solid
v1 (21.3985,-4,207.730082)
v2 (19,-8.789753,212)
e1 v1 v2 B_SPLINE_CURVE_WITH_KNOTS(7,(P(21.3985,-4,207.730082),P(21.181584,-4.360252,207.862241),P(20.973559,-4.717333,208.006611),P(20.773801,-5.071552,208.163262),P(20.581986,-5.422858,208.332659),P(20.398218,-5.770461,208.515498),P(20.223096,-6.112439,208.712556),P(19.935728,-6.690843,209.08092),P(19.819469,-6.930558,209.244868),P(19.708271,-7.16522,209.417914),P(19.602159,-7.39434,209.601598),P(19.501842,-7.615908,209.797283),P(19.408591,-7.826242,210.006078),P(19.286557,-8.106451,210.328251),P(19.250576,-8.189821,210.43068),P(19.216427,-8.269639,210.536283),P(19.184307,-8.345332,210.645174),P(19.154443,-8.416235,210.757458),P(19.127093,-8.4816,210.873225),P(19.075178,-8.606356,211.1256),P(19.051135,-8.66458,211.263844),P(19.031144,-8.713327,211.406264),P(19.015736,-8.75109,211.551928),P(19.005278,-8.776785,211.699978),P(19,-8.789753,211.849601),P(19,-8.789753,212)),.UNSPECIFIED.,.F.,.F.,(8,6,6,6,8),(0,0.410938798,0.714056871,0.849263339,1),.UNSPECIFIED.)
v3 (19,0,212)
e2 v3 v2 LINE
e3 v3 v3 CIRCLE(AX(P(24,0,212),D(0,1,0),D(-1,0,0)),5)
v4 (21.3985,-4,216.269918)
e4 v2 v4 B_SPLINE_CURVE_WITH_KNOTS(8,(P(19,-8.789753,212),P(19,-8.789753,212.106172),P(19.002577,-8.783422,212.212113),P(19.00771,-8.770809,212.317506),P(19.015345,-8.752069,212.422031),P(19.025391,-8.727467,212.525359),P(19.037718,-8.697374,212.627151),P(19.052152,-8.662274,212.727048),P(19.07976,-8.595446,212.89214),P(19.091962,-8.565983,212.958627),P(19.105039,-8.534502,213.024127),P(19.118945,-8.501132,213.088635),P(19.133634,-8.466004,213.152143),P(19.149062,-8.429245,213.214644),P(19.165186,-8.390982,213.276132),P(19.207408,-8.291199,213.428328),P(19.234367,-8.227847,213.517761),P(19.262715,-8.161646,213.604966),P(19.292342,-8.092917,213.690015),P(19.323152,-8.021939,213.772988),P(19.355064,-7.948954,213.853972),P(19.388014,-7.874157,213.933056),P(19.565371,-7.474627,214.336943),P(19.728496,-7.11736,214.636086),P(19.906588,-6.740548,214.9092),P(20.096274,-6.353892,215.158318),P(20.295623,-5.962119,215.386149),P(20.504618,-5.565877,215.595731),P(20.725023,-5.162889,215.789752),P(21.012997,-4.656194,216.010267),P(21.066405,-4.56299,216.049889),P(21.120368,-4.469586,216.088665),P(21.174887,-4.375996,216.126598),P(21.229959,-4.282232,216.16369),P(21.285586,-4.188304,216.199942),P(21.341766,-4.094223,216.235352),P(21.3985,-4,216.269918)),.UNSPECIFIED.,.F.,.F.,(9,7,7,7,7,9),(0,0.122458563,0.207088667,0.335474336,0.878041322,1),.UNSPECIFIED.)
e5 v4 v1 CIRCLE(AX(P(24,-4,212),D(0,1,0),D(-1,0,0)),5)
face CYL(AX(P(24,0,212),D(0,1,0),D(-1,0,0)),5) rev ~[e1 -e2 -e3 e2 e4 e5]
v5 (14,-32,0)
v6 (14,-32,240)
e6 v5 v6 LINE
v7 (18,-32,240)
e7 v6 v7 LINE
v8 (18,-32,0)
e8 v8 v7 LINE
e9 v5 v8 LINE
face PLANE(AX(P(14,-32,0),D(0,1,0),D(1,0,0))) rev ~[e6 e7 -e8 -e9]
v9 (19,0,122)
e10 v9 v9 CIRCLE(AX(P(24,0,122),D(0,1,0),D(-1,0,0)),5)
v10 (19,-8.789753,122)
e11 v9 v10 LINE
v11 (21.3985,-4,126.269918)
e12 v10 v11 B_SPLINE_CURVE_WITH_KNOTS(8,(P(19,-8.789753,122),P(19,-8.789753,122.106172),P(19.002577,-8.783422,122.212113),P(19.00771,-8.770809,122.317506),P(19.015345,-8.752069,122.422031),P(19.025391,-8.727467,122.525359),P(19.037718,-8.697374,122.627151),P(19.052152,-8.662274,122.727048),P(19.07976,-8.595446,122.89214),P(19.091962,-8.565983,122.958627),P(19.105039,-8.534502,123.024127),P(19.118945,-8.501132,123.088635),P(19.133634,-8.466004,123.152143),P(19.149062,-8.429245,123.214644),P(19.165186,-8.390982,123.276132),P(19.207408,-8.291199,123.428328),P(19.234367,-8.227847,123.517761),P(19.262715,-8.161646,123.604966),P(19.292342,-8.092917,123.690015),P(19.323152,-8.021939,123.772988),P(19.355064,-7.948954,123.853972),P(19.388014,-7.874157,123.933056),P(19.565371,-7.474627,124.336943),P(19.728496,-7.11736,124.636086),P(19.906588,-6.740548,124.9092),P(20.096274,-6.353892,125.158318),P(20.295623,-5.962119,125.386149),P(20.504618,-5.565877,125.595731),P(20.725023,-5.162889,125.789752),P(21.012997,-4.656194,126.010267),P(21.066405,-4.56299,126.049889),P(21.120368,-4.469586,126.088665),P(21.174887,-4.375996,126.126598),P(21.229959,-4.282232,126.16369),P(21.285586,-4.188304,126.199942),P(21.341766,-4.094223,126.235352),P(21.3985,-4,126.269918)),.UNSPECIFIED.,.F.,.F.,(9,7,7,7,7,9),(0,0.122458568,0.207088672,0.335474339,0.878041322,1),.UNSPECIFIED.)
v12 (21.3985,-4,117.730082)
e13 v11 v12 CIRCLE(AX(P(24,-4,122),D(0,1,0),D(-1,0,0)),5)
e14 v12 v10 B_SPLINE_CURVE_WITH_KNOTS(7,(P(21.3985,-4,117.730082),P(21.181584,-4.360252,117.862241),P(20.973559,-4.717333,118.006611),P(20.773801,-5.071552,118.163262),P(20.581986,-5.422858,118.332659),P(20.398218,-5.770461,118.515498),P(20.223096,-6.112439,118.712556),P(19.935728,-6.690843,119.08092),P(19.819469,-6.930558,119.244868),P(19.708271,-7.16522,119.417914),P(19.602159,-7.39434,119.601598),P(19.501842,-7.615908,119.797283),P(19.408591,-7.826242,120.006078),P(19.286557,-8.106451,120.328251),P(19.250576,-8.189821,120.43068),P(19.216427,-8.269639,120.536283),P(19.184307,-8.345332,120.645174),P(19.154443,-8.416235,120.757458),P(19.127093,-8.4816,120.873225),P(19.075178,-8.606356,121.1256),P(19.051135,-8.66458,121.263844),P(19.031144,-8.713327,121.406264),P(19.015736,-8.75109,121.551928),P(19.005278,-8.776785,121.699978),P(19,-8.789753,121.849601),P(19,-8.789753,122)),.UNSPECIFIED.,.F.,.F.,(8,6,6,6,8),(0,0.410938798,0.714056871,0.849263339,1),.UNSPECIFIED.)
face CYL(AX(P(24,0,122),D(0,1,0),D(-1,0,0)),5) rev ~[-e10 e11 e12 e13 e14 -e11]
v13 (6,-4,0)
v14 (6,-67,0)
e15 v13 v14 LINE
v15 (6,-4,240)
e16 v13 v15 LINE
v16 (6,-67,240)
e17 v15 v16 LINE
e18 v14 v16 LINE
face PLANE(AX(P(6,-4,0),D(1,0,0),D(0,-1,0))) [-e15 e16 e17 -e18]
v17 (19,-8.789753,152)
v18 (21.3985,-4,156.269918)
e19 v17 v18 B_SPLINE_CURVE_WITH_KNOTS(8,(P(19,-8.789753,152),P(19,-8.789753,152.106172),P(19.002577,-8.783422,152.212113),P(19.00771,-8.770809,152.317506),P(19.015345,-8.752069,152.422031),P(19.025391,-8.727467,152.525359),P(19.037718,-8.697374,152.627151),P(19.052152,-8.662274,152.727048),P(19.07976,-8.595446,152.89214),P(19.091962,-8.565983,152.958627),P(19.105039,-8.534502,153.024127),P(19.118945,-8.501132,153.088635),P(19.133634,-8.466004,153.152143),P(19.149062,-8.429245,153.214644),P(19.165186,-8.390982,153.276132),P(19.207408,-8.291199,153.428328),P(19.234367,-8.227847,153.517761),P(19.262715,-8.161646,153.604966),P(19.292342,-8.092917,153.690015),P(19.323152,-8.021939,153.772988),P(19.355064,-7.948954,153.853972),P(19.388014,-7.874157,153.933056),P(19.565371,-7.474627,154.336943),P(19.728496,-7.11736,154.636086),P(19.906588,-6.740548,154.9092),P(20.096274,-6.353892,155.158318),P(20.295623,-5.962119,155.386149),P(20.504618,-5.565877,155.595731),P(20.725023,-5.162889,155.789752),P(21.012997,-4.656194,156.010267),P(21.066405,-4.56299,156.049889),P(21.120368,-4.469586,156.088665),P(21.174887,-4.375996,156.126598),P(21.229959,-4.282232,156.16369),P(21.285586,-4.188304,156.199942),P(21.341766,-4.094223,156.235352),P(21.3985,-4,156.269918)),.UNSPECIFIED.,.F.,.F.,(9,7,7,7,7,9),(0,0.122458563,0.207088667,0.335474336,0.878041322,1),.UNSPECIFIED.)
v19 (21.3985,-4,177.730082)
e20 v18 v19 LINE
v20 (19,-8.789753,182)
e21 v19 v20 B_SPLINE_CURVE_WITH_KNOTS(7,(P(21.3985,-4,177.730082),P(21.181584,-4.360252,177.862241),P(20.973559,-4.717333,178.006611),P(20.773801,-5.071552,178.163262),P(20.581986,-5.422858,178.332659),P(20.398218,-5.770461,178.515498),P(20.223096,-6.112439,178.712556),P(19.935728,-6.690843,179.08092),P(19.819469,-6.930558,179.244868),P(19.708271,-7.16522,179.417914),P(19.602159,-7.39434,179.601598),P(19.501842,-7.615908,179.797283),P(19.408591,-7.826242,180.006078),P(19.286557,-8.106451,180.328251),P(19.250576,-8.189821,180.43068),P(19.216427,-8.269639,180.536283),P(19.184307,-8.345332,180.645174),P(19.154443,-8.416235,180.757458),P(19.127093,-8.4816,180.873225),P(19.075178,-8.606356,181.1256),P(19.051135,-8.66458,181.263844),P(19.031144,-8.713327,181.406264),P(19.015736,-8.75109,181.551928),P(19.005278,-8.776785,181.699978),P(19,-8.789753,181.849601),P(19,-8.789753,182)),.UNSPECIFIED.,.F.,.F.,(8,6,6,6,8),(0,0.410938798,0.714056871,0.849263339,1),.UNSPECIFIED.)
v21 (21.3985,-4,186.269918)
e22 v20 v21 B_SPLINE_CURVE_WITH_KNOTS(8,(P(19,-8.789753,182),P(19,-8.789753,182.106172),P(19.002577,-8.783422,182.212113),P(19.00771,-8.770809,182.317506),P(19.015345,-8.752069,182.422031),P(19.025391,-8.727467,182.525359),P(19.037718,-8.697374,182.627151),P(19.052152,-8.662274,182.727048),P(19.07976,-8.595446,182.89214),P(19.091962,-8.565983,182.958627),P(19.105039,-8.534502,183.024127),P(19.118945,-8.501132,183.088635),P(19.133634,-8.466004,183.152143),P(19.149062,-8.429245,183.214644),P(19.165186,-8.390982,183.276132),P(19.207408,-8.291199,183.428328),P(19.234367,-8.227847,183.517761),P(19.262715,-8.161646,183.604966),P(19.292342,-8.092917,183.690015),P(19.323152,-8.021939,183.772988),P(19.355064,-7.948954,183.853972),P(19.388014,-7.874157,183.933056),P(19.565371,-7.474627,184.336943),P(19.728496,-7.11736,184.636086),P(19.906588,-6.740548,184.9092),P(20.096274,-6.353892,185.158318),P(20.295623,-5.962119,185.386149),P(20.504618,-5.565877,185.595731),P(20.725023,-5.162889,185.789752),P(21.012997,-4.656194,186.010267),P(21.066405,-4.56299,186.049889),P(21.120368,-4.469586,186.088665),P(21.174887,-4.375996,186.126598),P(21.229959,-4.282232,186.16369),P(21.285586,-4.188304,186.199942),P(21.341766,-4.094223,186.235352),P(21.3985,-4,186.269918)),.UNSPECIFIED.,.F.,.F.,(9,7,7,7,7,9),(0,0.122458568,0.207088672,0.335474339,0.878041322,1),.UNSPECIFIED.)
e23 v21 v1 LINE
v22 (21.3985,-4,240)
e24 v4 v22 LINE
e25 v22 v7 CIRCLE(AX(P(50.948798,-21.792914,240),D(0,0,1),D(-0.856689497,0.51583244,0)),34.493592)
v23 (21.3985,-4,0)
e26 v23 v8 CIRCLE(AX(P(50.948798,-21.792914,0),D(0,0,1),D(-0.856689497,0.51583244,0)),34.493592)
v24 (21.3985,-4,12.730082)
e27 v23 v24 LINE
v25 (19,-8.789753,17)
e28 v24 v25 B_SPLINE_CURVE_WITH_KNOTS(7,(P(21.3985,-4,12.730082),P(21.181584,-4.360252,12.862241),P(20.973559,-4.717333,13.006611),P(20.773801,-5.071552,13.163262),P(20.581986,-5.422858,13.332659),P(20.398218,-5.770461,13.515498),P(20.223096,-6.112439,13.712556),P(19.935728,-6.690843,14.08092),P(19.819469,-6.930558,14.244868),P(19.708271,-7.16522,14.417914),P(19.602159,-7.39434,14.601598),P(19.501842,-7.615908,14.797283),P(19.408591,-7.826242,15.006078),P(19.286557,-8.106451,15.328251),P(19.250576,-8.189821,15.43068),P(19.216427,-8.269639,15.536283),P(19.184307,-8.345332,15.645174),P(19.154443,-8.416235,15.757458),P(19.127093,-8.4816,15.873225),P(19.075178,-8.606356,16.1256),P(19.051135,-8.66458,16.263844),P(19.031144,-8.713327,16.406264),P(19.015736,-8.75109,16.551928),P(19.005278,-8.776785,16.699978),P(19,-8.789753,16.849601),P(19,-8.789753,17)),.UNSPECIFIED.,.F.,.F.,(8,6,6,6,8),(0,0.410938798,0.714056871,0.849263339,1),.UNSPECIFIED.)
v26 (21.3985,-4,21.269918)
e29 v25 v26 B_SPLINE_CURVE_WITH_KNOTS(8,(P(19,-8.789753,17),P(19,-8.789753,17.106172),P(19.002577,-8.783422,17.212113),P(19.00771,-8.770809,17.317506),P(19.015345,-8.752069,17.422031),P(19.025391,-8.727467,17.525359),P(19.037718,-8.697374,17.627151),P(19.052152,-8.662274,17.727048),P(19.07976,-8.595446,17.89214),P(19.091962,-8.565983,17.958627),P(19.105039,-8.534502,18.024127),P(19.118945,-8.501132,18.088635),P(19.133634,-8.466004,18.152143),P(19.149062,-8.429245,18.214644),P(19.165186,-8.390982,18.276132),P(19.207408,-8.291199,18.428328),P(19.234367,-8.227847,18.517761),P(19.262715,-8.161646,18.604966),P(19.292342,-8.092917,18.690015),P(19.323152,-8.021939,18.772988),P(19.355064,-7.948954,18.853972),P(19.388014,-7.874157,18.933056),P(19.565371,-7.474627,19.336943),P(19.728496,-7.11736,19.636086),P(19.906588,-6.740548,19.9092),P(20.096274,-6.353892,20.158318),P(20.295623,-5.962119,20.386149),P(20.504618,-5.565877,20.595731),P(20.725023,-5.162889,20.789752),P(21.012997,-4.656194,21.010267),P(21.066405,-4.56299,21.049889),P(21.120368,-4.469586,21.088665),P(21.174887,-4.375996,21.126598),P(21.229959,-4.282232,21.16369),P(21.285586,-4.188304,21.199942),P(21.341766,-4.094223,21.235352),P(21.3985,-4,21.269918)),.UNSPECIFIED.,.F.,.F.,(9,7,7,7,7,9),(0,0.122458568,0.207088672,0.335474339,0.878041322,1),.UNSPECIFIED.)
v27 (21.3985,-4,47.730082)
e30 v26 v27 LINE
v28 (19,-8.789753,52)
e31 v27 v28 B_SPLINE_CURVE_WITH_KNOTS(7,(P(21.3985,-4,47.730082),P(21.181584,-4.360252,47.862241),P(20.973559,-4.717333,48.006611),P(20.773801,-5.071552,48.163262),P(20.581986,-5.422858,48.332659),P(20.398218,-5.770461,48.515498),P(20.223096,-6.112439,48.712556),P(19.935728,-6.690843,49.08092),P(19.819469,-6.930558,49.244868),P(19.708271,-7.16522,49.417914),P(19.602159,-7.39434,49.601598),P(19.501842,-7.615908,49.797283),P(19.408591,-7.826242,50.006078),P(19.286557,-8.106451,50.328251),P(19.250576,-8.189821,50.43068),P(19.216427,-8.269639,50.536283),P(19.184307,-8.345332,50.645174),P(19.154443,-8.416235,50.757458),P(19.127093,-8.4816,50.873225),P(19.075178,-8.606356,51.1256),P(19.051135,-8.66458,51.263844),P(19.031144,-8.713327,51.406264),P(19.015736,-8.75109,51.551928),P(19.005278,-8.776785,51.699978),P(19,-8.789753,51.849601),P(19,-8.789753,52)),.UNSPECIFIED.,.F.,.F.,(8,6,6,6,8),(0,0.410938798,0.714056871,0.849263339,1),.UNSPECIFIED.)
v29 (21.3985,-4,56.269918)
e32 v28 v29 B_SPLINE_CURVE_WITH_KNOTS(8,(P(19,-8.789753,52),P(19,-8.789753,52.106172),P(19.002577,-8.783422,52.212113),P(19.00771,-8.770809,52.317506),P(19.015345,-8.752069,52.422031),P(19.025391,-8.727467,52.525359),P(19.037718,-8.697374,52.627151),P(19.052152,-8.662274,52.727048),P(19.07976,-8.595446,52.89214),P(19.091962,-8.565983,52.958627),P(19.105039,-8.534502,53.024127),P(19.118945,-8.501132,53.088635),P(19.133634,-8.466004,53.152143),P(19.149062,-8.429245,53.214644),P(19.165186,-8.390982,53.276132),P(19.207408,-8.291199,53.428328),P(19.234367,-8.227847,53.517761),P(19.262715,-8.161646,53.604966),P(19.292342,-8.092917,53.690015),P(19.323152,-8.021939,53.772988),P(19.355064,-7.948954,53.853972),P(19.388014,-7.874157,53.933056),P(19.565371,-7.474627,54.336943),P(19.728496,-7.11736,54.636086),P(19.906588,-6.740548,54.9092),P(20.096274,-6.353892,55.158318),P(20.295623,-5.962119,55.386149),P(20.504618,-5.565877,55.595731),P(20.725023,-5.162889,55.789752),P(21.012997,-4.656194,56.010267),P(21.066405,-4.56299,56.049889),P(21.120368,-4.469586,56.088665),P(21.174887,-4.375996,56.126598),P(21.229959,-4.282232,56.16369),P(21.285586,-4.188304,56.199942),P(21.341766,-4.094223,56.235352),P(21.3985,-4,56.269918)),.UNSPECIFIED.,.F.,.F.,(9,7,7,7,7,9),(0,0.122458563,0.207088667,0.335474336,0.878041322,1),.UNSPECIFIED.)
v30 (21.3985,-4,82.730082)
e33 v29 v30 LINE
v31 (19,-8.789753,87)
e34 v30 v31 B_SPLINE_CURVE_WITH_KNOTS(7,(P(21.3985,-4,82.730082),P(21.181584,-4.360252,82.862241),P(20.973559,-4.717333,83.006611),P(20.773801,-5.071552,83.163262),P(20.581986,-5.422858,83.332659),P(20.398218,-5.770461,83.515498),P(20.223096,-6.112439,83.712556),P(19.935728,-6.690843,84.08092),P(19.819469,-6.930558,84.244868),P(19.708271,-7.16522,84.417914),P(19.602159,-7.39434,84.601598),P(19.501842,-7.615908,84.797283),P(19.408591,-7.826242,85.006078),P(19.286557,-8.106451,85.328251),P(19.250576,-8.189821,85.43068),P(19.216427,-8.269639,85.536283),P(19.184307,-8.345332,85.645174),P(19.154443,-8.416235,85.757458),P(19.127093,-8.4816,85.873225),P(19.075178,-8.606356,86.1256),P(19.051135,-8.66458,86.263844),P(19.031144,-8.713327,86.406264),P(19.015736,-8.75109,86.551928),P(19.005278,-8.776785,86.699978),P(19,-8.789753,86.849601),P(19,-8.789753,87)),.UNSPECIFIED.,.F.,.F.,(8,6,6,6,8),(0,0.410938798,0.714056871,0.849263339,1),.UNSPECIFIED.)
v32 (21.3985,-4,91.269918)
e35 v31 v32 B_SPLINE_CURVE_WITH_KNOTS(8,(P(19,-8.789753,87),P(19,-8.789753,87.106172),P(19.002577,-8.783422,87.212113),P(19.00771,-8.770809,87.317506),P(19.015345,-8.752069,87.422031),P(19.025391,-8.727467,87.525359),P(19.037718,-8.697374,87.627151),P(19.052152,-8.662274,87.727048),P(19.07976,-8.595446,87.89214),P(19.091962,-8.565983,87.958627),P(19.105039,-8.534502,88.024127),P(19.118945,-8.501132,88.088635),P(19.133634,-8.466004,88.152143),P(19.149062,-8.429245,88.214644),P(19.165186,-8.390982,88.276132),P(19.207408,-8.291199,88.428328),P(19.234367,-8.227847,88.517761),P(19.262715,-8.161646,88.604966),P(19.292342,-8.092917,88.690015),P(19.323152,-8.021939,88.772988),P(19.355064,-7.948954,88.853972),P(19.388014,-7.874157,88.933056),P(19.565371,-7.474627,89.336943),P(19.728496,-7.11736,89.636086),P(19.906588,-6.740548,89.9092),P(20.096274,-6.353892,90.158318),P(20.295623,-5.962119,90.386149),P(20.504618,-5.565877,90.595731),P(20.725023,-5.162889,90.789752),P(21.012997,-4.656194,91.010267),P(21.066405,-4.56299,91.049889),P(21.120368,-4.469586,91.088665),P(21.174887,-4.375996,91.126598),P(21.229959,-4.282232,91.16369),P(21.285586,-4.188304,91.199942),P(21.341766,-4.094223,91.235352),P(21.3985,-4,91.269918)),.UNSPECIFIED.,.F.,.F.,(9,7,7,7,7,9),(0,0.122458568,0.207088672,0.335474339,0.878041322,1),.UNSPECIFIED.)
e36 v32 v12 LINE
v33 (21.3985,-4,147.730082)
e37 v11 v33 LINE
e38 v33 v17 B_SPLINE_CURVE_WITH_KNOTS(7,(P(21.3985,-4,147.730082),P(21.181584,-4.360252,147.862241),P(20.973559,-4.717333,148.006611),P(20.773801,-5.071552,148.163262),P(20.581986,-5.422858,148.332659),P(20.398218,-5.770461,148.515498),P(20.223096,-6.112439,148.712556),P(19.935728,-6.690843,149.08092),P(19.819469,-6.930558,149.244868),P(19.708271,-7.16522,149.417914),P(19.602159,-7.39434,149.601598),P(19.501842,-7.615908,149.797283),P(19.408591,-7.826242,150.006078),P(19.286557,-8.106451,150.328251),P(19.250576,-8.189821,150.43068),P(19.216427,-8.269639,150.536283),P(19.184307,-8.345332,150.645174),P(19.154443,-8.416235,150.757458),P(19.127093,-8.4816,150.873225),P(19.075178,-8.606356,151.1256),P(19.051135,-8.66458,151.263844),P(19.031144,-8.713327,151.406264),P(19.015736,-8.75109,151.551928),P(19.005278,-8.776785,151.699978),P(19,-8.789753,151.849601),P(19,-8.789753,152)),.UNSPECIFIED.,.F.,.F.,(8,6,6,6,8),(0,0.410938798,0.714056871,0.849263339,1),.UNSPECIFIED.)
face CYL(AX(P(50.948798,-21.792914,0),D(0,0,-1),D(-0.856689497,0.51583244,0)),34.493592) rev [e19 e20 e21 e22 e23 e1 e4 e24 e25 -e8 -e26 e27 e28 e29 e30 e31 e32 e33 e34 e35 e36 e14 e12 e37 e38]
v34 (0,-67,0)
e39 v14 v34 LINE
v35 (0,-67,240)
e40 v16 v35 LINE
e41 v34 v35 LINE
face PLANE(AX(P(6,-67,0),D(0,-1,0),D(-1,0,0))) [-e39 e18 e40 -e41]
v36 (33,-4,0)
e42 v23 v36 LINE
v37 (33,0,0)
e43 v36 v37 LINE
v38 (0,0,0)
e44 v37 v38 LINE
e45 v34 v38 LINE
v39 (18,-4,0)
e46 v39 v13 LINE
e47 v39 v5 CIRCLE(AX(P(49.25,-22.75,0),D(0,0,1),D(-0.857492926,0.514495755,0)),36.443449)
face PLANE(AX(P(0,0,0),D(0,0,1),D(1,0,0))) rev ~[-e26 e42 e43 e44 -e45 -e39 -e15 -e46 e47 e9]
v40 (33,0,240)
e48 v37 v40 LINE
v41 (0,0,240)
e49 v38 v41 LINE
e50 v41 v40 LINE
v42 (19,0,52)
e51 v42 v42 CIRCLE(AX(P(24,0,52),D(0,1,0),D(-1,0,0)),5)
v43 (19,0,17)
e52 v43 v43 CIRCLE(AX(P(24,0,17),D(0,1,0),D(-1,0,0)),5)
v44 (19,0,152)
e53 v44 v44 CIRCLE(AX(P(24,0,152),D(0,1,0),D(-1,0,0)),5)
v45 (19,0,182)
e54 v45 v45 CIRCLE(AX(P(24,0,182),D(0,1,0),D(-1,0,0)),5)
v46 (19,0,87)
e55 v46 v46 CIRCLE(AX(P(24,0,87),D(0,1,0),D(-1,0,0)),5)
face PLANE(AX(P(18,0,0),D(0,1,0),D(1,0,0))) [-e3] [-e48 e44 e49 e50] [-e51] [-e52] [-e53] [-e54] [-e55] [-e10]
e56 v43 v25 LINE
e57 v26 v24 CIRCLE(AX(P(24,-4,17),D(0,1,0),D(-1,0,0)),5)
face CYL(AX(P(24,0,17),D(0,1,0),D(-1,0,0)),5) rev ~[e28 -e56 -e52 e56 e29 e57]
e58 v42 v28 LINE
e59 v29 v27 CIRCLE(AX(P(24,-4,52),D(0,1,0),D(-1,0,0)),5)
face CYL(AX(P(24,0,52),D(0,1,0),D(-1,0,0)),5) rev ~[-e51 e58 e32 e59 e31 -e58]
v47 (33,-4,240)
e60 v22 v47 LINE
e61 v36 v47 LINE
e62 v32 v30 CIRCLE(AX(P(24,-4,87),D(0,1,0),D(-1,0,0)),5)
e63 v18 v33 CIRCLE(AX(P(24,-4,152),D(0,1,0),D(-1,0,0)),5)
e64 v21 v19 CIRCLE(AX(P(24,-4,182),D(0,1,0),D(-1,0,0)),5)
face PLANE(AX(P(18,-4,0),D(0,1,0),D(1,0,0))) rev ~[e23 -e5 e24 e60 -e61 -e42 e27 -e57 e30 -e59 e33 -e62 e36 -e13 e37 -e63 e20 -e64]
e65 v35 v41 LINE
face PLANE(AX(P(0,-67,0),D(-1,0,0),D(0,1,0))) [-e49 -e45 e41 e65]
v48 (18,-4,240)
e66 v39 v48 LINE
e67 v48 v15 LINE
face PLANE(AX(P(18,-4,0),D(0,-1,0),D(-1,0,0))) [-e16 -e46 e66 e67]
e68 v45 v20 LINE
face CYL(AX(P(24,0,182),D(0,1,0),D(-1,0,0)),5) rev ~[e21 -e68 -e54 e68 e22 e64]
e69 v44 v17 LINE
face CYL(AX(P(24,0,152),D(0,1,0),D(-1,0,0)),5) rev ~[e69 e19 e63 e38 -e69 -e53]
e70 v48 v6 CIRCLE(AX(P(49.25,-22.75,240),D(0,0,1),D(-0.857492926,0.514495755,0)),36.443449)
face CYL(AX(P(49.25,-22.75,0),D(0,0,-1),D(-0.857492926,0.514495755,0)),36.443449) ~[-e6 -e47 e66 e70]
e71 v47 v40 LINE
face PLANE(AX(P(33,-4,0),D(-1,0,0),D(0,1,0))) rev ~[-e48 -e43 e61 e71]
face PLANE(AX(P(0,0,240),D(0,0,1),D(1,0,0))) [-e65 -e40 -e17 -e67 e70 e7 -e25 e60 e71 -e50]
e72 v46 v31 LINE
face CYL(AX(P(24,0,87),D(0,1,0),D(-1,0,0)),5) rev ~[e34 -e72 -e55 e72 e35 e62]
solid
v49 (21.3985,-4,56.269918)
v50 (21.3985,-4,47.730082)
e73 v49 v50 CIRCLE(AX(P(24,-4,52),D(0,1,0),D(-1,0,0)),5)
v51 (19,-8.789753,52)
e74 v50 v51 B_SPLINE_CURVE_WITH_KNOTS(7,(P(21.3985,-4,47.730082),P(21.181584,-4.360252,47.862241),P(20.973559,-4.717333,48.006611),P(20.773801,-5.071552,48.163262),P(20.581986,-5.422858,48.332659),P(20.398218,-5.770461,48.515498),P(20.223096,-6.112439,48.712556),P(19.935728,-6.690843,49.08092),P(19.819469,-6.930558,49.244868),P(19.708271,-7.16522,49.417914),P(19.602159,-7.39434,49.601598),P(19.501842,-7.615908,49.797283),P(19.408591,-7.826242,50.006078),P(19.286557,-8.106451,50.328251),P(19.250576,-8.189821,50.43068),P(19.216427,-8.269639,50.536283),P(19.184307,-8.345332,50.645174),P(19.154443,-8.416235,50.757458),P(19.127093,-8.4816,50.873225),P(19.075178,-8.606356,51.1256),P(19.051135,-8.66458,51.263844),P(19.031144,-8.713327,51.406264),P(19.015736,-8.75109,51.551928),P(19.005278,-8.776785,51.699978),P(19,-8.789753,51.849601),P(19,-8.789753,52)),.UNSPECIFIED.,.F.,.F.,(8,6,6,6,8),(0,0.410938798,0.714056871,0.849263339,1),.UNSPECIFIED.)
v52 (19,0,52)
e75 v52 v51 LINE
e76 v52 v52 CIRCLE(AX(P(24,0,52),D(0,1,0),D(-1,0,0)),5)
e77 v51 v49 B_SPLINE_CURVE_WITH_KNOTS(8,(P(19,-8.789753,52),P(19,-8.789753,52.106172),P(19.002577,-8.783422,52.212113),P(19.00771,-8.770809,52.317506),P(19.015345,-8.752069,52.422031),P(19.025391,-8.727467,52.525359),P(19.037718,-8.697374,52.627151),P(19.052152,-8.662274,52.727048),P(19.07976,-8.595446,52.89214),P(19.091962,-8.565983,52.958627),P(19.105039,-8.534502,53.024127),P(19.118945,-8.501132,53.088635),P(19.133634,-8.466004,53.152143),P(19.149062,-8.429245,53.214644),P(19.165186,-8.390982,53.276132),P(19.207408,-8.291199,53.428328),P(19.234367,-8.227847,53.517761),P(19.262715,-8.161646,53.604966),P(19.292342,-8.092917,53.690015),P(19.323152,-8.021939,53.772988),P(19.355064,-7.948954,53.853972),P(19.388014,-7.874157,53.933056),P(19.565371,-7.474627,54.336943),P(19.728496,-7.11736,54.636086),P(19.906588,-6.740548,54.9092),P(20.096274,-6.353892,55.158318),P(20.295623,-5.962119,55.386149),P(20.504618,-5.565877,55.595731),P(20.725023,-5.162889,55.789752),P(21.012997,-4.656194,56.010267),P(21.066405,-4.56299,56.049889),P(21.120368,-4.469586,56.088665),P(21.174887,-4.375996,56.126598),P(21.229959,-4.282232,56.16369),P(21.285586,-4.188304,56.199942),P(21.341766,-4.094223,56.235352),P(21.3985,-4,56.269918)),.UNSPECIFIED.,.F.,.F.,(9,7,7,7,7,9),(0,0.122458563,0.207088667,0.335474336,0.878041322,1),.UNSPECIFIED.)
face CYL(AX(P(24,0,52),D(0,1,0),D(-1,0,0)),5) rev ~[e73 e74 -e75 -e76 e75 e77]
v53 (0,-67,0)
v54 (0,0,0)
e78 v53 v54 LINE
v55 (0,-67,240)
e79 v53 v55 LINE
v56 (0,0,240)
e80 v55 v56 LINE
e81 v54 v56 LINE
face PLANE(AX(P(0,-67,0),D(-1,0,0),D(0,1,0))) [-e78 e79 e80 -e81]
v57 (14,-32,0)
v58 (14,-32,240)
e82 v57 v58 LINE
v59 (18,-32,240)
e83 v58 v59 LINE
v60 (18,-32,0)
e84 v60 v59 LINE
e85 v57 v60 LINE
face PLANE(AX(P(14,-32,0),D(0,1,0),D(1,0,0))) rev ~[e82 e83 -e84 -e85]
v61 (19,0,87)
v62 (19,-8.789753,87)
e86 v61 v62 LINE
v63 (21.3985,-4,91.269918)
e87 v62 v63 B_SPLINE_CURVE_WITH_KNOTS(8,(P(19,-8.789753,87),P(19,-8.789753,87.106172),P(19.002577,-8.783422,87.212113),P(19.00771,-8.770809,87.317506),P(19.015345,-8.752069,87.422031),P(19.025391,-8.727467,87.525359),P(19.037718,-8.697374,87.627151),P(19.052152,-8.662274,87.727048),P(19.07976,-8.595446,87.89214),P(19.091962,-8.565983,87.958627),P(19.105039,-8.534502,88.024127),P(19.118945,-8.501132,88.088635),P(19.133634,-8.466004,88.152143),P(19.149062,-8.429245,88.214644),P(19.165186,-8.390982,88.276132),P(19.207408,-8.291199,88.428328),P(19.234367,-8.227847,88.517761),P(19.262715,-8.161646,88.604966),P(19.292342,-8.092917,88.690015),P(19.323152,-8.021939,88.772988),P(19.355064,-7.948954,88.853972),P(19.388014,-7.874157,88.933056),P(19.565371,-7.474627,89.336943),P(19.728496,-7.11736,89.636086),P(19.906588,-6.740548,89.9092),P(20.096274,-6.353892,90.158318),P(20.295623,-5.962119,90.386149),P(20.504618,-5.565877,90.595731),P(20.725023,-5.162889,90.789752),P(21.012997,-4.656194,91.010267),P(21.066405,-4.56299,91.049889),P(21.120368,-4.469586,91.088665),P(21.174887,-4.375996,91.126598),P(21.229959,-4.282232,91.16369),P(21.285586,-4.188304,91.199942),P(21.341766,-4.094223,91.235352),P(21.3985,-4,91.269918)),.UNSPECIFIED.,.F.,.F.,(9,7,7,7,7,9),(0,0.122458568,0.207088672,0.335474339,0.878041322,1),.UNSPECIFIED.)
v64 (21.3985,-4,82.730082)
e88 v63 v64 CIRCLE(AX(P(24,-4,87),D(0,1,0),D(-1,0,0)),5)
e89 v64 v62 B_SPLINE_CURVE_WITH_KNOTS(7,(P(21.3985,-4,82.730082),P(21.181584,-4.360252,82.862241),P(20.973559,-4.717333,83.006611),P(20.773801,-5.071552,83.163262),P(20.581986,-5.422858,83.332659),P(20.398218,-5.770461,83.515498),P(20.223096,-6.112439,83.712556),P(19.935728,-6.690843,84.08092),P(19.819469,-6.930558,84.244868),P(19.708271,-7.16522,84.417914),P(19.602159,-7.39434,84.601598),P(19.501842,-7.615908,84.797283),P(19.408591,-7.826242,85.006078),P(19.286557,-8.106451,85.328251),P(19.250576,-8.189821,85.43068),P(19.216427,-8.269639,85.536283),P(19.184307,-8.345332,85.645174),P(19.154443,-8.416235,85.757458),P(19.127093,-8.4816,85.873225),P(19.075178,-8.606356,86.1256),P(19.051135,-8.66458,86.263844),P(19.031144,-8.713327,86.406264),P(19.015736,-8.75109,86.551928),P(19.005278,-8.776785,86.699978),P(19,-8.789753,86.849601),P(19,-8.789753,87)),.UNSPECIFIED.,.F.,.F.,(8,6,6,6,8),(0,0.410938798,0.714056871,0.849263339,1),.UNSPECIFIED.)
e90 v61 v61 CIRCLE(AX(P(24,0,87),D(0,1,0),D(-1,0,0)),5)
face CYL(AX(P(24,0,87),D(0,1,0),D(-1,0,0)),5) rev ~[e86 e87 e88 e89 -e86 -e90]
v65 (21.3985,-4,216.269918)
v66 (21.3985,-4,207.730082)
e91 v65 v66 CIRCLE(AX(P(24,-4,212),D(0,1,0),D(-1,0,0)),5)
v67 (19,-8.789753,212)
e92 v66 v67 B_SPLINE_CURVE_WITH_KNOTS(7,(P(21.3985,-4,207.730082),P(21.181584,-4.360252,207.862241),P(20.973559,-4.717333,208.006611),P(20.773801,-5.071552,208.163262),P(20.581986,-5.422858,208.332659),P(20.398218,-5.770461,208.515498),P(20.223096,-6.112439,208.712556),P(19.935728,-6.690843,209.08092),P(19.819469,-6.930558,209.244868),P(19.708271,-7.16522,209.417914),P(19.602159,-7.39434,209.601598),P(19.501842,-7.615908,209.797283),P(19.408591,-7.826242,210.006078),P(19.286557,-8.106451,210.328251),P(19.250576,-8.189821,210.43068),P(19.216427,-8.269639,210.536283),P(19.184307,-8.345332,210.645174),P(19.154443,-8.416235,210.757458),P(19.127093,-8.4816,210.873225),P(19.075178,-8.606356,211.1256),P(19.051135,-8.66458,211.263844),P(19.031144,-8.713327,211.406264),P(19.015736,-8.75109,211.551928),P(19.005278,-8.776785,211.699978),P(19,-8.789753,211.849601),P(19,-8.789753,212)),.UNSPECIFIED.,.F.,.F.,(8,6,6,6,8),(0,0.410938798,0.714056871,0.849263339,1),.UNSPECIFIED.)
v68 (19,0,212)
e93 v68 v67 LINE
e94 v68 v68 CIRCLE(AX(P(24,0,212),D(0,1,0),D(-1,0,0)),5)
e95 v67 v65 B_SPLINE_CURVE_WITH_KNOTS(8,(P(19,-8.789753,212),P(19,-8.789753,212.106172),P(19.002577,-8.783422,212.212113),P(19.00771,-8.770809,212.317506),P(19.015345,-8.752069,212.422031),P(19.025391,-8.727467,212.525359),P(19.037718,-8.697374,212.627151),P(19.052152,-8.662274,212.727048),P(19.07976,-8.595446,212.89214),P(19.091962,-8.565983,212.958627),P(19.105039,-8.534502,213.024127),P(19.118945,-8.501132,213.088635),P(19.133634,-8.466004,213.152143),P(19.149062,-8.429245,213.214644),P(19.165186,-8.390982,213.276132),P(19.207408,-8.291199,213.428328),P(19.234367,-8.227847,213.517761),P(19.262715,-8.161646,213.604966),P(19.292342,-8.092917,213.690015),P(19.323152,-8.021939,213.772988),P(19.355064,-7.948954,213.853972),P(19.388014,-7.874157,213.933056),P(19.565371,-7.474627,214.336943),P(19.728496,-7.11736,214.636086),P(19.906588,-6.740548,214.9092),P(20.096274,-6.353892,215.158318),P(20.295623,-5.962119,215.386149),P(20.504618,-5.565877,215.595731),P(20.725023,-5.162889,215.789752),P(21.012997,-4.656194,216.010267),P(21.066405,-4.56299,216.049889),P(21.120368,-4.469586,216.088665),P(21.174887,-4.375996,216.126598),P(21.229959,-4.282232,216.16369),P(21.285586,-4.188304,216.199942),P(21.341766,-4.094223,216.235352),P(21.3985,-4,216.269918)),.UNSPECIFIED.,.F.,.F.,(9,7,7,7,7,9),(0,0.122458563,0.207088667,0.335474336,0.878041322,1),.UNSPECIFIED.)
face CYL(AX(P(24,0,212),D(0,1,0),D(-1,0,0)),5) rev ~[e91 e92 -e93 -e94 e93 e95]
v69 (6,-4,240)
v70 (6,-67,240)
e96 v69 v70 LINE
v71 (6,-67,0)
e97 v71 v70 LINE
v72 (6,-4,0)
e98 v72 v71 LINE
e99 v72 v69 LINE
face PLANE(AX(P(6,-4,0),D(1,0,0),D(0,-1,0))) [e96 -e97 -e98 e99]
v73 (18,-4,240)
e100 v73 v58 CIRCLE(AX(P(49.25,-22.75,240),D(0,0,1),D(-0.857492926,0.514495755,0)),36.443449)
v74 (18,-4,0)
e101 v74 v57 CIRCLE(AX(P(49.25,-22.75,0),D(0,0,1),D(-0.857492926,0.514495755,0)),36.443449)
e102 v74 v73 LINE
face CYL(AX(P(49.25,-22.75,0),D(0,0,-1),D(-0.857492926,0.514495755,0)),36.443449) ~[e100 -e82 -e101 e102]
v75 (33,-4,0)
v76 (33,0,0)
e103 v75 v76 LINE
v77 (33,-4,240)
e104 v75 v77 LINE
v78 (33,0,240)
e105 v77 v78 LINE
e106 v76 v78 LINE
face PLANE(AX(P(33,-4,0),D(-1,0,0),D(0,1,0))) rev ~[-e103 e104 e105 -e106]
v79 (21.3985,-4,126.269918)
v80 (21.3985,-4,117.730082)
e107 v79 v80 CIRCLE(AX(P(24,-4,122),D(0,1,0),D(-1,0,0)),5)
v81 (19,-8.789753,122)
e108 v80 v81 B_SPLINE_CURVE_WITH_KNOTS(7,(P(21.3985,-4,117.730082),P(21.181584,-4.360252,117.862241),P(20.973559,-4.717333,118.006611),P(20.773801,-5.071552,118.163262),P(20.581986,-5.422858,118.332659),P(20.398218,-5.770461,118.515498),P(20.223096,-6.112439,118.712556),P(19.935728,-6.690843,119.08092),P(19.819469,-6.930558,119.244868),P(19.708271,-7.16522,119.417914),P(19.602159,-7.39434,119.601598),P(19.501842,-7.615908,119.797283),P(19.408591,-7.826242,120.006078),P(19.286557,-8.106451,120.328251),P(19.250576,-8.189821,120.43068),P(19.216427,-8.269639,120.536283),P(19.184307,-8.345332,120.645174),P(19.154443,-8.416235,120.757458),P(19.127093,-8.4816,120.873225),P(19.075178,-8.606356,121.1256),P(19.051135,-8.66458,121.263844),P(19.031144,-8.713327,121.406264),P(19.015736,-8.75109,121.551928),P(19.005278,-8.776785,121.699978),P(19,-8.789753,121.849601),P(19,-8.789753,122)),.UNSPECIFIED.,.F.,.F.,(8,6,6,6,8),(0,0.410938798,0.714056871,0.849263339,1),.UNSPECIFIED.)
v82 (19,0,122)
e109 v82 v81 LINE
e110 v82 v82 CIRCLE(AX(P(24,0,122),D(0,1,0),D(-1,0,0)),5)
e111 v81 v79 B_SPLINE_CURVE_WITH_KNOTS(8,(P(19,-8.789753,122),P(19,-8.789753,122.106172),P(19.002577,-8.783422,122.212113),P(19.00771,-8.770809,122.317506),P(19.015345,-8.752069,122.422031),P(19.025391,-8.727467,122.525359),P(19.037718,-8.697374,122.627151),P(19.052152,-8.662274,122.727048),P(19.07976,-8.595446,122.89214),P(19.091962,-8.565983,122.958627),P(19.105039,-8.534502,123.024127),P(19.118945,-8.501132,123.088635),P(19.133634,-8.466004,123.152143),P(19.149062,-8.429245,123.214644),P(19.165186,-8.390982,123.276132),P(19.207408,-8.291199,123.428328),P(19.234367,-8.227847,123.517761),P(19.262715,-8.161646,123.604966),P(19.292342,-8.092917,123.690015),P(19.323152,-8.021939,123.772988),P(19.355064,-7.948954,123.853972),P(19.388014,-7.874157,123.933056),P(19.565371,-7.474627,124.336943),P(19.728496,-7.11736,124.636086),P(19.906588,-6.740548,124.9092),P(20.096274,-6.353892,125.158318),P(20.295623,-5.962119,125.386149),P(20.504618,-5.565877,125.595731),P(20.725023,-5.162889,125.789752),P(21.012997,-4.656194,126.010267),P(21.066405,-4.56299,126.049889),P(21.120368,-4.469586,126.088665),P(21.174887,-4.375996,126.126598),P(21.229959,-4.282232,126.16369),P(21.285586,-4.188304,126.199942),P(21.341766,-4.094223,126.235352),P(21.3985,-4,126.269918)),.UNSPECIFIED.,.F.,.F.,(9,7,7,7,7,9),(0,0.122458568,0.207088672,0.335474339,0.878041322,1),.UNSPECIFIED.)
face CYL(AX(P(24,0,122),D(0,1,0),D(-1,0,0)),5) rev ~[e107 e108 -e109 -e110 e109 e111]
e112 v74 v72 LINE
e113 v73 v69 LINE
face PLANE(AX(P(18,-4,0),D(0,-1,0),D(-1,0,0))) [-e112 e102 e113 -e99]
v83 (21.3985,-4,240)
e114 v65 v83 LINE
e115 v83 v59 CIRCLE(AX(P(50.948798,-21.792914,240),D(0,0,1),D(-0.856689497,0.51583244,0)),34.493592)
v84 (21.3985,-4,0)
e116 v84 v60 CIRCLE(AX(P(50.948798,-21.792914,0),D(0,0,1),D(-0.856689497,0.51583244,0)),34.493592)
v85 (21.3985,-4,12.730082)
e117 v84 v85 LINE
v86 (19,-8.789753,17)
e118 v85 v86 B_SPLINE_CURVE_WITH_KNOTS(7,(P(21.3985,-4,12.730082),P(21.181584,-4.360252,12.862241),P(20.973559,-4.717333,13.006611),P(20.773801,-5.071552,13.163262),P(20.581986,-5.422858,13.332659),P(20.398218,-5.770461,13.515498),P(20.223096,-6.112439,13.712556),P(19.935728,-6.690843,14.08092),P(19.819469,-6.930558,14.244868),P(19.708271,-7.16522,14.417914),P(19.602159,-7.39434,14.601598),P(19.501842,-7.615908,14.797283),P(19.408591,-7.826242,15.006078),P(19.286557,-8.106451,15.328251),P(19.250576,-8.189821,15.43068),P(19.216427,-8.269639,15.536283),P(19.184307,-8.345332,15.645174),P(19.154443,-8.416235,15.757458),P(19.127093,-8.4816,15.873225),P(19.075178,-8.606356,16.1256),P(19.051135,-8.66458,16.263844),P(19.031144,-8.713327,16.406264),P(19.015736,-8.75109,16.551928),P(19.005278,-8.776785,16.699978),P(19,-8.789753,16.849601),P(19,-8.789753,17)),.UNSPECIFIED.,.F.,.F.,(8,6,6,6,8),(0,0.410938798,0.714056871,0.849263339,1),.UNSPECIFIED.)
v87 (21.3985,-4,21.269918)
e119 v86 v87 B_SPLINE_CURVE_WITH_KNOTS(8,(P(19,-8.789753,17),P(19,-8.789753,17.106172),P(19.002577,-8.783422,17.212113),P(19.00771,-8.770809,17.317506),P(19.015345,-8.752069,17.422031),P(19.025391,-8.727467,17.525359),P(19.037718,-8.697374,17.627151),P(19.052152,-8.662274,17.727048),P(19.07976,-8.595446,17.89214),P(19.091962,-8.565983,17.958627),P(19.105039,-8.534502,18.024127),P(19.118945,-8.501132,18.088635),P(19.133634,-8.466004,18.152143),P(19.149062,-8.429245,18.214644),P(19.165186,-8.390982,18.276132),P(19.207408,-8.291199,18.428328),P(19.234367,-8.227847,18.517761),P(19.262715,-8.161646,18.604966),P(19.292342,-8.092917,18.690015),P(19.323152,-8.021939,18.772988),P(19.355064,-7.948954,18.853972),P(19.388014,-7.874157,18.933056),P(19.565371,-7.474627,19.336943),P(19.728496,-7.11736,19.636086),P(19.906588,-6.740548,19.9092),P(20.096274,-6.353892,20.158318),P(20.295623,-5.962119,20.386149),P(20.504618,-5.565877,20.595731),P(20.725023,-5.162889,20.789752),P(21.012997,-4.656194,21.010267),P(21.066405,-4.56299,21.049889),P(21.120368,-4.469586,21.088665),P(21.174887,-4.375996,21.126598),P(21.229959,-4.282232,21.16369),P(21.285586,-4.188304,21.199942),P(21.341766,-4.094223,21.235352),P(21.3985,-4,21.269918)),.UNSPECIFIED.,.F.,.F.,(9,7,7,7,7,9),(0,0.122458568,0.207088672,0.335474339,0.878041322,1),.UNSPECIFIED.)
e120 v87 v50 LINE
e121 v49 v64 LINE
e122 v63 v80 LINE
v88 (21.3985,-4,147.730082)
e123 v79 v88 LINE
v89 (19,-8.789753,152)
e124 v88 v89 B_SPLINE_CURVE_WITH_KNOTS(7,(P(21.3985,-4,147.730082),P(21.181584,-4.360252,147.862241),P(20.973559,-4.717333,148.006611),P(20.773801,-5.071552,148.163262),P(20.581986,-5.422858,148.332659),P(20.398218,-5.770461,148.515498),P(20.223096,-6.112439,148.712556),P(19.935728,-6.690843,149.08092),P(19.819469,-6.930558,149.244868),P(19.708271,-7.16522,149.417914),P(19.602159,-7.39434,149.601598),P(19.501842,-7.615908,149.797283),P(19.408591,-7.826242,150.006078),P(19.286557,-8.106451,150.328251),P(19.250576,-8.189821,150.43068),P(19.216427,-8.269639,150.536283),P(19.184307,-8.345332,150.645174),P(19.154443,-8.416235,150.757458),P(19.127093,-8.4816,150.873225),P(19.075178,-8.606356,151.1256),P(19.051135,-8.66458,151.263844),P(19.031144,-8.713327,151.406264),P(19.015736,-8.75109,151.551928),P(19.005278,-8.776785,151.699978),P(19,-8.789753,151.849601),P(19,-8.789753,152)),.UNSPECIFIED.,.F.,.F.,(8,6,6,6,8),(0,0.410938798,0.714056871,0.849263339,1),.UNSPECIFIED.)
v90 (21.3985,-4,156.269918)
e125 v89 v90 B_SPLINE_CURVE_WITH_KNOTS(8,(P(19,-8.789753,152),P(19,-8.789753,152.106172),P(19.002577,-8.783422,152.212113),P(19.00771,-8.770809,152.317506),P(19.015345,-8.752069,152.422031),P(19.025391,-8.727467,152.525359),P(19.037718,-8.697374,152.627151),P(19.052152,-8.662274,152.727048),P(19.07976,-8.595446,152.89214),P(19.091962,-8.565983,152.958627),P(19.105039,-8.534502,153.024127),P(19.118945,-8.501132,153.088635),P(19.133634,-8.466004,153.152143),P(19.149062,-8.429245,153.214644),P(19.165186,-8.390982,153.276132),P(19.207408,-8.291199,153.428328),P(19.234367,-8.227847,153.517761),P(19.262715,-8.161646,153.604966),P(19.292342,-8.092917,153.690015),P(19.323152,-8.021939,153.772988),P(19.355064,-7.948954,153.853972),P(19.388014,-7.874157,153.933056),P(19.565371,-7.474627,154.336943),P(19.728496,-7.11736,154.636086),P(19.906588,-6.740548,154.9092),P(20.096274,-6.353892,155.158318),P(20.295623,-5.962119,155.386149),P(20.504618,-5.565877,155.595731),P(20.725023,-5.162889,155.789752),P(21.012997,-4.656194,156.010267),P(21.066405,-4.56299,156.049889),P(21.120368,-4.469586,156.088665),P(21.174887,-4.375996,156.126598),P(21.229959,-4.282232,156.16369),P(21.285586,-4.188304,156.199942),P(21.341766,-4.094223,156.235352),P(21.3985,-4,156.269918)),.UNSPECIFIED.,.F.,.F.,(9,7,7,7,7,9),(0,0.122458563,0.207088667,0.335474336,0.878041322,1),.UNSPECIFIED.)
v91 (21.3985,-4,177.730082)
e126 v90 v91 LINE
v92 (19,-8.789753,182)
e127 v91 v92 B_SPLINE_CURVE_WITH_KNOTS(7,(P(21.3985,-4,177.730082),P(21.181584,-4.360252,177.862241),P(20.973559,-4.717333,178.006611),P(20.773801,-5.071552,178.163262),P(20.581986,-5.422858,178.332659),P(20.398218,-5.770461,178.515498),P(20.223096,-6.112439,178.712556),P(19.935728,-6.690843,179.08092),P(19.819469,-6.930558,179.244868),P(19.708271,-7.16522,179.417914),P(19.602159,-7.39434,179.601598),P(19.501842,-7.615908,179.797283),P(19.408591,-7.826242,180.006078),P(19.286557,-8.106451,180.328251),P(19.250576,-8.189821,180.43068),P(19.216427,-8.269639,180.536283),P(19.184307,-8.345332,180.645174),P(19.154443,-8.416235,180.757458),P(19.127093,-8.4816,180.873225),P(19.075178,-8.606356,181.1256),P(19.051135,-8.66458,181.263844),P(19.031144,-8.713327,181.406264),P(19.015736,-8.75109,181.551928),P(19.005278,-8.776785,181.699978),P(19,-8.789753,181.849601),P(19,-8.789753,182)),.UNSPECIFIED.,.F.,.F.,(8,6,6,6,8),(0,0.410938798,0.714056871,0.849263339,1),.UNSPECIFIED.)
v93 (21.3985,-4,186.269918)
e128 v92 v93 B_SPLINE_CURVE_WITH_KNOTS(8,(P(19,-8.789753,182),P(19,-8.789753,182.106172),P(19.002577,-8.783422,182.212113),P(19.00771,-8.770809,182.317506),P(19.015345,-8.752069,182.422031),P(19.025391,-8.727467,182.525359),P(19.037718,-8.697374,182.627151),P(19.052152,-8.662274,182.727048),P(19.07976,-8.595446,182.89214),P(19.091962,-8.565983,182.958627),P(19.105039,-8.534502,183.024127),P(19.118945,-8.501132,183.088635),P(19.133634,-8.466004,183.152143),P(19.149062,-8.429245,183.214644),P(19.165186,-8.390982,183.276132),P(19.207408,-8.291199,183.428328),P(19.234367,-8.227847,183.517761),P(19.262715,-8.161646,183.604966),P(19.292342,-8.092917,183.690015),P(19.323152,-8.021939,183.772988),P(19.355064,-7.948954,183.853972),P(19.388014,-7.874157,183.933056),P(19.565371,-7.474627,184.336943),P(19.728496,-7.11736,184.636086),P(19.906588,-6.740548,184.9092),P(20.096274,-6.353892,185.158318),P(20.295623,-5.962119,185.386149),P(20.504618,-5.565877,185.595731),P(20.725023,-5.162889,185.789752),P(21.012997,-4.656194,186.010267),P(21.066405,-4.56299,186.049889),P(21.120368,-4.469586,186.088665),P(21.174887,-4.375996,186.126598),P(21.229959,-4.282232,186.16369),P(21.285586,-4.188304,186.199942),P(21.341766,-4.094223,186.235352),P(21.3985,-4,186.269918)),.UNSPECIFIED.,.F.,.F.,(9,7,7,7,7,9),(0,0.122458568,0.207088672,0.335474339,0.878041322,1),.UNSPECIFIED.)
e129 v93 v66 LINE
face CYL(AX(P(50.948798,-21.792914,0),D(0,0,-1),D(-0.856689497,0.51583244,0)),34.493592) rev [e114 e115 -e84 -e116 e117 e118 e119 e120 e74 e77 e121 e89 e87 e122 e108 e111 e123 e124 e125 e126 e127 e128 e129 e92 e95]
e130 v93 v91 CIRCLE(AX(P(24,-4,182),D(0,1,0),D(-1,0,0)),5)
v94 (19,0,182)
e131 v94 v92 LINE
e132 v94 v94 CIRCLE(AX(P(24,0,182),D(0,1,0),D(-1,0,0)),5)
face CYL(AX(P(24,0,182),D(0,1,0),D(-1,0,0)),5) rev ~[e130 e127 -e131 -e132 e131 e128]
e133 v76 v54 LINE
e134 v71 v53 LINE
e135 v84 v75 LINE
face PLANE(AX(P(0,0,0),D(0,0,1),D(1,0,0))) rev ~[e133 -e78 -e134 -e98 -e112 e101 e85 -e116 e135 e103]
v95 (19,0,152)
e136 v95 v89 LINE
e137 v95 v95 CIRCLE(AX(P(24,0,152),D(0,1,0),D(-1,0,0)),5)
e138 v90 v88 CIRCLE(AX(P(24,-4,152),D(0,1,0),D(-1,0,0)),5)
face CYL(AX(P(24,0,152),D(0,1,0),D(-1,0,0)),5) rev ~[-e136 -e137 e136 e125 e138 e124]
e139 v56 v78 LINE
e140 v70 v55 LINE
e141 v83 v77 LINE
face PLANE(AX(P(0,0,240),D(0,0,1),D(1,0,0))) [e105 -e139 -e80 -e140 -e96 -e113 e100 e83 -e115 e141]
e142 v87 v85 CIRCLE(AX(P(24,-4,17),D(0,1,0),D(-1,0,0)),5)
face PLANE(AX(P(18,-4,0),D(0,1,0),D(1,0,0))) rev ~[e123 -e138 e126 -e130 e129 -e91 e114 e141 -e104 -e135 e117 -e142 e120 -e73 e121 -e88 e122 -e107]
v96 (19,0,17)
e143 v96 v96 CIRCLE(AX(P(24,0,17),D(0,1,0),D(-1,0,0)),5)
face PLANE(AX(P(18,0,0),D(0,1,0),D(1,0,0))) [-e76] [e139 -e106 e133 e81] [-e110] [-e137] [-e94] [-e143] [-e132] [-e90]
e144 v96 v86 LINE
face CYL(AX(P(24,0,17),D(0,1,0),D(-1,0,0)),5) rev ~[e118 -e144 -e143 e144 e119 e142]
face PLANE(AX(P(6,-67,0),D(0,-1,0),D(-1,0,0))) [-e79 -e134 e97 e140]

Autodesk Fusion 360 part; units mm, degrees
sketch "Sketch1" plane through (0, 0, 0) normal (0, 0, 1) x (1, 0, 0) in component "Component"
  line L0 (0, 0) -> (6, 0)
  line L1 (6, 0) -> (6, -67)
  line L2 (6, -67) -> (0, -67)
  line L3 (0, -67) -> (0, 0)
  line L4 (6, 0) -> (18, 0)
  line L5 (18, 0) -> (18, -4)
  line L6 (18, -4) -> (6, -4)
  line L7 (6, -4) -> (6, 0)
  line L8 (8.0693, -4) -> (8.0693, -32) construction
  arc A0 (18, -4) -> (14, -32) centre (49.25, -22.75) ccw
  arc A1 (21.3985, -4) -> (18, -32) centre (50.9488, -21.7929) ccw
  line L9 (18, -4) -> (21.3985, -4)
  line L10 (14, -32) -> (18, -32)
  dimension "d1" = 6
  dimension "d2" = 67
  dimension "d3" = 12
  dimension "d4" = 4
  dimension "d5" = 28
extrude "Extrude1" add sketch "Sketch1" along normal blind 240 makes body 1 at (0, -44.6667, 160) in component "Component"
sketch "Sketch2" plane through (0, 0, 0) normal (0, 1, 0) x (-1, 0, 0) in component "Component"
  line L0 (-18, 0) -> (0, 0)
  line L1 (0, 0) -> (0, 240)
  line L2 (0, 240) -> (-18, 240)
  line L3 (-18, 240) -> (-18, 0)
  circle A0 centre (-24, 17) radius 5
  line L4 (-9, 47) -> (-24, 52) construction
  circle A1 centre (-24, 52) radius 5
  circle A2 centre (-24, 87) radius 5
  circle A3 centre (-24, 122) radius 5
  circle A4 centre (-24, 152) radius 5
  circle A5 centre (-24, 182) radius 5
  circle A6 centre (-24, 212) radius 5
  dimension "d10" = 10
  dimension "d12" = 10
  dimension "d14" = 10
  dimension "d16" = 10
  dimension "d18" = 10
  dimension "d20" = 10
  dimension "d22" = 10
sketch "Sketch3" plane through (0, 0, 0) normal (0, 0, 1) x (1, 0, 0) in component "Component"
  line L0 (18, 0) -> (33, 0)
  line L1 (18, -4) -> (33, -4)
  line L2 (33, -4) -> (33, 0)
  line L3 (18, 0) -> (18, -4)
  dimension "d23" = 15
extrude "Extrude2" add sketch "Sketch3" along normal blind 240 bodies 1 in component "Component"
extrude "Extrude3" cut sketch "Sketch2" against normal blind 20 contours A0 | A1 | A2 | A3 | A4 | A5 | A6 bodies 1 in component "Component"
copy_body "CopyPasteBodies2" bodies 1 makes body 2 in component "Component"
sketch "Sketch1 (2)" plane through (0, 0, 0) normal (0, 0, 1) x (1, 0, 0)
  line L0 (30, 40) -> (0, 40)
  line L1 (0, 40) -> (0, 60)
  line L2 (0, 60) -> (30, 60)
  line L3 (30, 60) -> (30, 40)
component "Component" placed x (1, 0, 0) y (0, 1, 0) z (0, 0, 1) at (0, 0, 0)
